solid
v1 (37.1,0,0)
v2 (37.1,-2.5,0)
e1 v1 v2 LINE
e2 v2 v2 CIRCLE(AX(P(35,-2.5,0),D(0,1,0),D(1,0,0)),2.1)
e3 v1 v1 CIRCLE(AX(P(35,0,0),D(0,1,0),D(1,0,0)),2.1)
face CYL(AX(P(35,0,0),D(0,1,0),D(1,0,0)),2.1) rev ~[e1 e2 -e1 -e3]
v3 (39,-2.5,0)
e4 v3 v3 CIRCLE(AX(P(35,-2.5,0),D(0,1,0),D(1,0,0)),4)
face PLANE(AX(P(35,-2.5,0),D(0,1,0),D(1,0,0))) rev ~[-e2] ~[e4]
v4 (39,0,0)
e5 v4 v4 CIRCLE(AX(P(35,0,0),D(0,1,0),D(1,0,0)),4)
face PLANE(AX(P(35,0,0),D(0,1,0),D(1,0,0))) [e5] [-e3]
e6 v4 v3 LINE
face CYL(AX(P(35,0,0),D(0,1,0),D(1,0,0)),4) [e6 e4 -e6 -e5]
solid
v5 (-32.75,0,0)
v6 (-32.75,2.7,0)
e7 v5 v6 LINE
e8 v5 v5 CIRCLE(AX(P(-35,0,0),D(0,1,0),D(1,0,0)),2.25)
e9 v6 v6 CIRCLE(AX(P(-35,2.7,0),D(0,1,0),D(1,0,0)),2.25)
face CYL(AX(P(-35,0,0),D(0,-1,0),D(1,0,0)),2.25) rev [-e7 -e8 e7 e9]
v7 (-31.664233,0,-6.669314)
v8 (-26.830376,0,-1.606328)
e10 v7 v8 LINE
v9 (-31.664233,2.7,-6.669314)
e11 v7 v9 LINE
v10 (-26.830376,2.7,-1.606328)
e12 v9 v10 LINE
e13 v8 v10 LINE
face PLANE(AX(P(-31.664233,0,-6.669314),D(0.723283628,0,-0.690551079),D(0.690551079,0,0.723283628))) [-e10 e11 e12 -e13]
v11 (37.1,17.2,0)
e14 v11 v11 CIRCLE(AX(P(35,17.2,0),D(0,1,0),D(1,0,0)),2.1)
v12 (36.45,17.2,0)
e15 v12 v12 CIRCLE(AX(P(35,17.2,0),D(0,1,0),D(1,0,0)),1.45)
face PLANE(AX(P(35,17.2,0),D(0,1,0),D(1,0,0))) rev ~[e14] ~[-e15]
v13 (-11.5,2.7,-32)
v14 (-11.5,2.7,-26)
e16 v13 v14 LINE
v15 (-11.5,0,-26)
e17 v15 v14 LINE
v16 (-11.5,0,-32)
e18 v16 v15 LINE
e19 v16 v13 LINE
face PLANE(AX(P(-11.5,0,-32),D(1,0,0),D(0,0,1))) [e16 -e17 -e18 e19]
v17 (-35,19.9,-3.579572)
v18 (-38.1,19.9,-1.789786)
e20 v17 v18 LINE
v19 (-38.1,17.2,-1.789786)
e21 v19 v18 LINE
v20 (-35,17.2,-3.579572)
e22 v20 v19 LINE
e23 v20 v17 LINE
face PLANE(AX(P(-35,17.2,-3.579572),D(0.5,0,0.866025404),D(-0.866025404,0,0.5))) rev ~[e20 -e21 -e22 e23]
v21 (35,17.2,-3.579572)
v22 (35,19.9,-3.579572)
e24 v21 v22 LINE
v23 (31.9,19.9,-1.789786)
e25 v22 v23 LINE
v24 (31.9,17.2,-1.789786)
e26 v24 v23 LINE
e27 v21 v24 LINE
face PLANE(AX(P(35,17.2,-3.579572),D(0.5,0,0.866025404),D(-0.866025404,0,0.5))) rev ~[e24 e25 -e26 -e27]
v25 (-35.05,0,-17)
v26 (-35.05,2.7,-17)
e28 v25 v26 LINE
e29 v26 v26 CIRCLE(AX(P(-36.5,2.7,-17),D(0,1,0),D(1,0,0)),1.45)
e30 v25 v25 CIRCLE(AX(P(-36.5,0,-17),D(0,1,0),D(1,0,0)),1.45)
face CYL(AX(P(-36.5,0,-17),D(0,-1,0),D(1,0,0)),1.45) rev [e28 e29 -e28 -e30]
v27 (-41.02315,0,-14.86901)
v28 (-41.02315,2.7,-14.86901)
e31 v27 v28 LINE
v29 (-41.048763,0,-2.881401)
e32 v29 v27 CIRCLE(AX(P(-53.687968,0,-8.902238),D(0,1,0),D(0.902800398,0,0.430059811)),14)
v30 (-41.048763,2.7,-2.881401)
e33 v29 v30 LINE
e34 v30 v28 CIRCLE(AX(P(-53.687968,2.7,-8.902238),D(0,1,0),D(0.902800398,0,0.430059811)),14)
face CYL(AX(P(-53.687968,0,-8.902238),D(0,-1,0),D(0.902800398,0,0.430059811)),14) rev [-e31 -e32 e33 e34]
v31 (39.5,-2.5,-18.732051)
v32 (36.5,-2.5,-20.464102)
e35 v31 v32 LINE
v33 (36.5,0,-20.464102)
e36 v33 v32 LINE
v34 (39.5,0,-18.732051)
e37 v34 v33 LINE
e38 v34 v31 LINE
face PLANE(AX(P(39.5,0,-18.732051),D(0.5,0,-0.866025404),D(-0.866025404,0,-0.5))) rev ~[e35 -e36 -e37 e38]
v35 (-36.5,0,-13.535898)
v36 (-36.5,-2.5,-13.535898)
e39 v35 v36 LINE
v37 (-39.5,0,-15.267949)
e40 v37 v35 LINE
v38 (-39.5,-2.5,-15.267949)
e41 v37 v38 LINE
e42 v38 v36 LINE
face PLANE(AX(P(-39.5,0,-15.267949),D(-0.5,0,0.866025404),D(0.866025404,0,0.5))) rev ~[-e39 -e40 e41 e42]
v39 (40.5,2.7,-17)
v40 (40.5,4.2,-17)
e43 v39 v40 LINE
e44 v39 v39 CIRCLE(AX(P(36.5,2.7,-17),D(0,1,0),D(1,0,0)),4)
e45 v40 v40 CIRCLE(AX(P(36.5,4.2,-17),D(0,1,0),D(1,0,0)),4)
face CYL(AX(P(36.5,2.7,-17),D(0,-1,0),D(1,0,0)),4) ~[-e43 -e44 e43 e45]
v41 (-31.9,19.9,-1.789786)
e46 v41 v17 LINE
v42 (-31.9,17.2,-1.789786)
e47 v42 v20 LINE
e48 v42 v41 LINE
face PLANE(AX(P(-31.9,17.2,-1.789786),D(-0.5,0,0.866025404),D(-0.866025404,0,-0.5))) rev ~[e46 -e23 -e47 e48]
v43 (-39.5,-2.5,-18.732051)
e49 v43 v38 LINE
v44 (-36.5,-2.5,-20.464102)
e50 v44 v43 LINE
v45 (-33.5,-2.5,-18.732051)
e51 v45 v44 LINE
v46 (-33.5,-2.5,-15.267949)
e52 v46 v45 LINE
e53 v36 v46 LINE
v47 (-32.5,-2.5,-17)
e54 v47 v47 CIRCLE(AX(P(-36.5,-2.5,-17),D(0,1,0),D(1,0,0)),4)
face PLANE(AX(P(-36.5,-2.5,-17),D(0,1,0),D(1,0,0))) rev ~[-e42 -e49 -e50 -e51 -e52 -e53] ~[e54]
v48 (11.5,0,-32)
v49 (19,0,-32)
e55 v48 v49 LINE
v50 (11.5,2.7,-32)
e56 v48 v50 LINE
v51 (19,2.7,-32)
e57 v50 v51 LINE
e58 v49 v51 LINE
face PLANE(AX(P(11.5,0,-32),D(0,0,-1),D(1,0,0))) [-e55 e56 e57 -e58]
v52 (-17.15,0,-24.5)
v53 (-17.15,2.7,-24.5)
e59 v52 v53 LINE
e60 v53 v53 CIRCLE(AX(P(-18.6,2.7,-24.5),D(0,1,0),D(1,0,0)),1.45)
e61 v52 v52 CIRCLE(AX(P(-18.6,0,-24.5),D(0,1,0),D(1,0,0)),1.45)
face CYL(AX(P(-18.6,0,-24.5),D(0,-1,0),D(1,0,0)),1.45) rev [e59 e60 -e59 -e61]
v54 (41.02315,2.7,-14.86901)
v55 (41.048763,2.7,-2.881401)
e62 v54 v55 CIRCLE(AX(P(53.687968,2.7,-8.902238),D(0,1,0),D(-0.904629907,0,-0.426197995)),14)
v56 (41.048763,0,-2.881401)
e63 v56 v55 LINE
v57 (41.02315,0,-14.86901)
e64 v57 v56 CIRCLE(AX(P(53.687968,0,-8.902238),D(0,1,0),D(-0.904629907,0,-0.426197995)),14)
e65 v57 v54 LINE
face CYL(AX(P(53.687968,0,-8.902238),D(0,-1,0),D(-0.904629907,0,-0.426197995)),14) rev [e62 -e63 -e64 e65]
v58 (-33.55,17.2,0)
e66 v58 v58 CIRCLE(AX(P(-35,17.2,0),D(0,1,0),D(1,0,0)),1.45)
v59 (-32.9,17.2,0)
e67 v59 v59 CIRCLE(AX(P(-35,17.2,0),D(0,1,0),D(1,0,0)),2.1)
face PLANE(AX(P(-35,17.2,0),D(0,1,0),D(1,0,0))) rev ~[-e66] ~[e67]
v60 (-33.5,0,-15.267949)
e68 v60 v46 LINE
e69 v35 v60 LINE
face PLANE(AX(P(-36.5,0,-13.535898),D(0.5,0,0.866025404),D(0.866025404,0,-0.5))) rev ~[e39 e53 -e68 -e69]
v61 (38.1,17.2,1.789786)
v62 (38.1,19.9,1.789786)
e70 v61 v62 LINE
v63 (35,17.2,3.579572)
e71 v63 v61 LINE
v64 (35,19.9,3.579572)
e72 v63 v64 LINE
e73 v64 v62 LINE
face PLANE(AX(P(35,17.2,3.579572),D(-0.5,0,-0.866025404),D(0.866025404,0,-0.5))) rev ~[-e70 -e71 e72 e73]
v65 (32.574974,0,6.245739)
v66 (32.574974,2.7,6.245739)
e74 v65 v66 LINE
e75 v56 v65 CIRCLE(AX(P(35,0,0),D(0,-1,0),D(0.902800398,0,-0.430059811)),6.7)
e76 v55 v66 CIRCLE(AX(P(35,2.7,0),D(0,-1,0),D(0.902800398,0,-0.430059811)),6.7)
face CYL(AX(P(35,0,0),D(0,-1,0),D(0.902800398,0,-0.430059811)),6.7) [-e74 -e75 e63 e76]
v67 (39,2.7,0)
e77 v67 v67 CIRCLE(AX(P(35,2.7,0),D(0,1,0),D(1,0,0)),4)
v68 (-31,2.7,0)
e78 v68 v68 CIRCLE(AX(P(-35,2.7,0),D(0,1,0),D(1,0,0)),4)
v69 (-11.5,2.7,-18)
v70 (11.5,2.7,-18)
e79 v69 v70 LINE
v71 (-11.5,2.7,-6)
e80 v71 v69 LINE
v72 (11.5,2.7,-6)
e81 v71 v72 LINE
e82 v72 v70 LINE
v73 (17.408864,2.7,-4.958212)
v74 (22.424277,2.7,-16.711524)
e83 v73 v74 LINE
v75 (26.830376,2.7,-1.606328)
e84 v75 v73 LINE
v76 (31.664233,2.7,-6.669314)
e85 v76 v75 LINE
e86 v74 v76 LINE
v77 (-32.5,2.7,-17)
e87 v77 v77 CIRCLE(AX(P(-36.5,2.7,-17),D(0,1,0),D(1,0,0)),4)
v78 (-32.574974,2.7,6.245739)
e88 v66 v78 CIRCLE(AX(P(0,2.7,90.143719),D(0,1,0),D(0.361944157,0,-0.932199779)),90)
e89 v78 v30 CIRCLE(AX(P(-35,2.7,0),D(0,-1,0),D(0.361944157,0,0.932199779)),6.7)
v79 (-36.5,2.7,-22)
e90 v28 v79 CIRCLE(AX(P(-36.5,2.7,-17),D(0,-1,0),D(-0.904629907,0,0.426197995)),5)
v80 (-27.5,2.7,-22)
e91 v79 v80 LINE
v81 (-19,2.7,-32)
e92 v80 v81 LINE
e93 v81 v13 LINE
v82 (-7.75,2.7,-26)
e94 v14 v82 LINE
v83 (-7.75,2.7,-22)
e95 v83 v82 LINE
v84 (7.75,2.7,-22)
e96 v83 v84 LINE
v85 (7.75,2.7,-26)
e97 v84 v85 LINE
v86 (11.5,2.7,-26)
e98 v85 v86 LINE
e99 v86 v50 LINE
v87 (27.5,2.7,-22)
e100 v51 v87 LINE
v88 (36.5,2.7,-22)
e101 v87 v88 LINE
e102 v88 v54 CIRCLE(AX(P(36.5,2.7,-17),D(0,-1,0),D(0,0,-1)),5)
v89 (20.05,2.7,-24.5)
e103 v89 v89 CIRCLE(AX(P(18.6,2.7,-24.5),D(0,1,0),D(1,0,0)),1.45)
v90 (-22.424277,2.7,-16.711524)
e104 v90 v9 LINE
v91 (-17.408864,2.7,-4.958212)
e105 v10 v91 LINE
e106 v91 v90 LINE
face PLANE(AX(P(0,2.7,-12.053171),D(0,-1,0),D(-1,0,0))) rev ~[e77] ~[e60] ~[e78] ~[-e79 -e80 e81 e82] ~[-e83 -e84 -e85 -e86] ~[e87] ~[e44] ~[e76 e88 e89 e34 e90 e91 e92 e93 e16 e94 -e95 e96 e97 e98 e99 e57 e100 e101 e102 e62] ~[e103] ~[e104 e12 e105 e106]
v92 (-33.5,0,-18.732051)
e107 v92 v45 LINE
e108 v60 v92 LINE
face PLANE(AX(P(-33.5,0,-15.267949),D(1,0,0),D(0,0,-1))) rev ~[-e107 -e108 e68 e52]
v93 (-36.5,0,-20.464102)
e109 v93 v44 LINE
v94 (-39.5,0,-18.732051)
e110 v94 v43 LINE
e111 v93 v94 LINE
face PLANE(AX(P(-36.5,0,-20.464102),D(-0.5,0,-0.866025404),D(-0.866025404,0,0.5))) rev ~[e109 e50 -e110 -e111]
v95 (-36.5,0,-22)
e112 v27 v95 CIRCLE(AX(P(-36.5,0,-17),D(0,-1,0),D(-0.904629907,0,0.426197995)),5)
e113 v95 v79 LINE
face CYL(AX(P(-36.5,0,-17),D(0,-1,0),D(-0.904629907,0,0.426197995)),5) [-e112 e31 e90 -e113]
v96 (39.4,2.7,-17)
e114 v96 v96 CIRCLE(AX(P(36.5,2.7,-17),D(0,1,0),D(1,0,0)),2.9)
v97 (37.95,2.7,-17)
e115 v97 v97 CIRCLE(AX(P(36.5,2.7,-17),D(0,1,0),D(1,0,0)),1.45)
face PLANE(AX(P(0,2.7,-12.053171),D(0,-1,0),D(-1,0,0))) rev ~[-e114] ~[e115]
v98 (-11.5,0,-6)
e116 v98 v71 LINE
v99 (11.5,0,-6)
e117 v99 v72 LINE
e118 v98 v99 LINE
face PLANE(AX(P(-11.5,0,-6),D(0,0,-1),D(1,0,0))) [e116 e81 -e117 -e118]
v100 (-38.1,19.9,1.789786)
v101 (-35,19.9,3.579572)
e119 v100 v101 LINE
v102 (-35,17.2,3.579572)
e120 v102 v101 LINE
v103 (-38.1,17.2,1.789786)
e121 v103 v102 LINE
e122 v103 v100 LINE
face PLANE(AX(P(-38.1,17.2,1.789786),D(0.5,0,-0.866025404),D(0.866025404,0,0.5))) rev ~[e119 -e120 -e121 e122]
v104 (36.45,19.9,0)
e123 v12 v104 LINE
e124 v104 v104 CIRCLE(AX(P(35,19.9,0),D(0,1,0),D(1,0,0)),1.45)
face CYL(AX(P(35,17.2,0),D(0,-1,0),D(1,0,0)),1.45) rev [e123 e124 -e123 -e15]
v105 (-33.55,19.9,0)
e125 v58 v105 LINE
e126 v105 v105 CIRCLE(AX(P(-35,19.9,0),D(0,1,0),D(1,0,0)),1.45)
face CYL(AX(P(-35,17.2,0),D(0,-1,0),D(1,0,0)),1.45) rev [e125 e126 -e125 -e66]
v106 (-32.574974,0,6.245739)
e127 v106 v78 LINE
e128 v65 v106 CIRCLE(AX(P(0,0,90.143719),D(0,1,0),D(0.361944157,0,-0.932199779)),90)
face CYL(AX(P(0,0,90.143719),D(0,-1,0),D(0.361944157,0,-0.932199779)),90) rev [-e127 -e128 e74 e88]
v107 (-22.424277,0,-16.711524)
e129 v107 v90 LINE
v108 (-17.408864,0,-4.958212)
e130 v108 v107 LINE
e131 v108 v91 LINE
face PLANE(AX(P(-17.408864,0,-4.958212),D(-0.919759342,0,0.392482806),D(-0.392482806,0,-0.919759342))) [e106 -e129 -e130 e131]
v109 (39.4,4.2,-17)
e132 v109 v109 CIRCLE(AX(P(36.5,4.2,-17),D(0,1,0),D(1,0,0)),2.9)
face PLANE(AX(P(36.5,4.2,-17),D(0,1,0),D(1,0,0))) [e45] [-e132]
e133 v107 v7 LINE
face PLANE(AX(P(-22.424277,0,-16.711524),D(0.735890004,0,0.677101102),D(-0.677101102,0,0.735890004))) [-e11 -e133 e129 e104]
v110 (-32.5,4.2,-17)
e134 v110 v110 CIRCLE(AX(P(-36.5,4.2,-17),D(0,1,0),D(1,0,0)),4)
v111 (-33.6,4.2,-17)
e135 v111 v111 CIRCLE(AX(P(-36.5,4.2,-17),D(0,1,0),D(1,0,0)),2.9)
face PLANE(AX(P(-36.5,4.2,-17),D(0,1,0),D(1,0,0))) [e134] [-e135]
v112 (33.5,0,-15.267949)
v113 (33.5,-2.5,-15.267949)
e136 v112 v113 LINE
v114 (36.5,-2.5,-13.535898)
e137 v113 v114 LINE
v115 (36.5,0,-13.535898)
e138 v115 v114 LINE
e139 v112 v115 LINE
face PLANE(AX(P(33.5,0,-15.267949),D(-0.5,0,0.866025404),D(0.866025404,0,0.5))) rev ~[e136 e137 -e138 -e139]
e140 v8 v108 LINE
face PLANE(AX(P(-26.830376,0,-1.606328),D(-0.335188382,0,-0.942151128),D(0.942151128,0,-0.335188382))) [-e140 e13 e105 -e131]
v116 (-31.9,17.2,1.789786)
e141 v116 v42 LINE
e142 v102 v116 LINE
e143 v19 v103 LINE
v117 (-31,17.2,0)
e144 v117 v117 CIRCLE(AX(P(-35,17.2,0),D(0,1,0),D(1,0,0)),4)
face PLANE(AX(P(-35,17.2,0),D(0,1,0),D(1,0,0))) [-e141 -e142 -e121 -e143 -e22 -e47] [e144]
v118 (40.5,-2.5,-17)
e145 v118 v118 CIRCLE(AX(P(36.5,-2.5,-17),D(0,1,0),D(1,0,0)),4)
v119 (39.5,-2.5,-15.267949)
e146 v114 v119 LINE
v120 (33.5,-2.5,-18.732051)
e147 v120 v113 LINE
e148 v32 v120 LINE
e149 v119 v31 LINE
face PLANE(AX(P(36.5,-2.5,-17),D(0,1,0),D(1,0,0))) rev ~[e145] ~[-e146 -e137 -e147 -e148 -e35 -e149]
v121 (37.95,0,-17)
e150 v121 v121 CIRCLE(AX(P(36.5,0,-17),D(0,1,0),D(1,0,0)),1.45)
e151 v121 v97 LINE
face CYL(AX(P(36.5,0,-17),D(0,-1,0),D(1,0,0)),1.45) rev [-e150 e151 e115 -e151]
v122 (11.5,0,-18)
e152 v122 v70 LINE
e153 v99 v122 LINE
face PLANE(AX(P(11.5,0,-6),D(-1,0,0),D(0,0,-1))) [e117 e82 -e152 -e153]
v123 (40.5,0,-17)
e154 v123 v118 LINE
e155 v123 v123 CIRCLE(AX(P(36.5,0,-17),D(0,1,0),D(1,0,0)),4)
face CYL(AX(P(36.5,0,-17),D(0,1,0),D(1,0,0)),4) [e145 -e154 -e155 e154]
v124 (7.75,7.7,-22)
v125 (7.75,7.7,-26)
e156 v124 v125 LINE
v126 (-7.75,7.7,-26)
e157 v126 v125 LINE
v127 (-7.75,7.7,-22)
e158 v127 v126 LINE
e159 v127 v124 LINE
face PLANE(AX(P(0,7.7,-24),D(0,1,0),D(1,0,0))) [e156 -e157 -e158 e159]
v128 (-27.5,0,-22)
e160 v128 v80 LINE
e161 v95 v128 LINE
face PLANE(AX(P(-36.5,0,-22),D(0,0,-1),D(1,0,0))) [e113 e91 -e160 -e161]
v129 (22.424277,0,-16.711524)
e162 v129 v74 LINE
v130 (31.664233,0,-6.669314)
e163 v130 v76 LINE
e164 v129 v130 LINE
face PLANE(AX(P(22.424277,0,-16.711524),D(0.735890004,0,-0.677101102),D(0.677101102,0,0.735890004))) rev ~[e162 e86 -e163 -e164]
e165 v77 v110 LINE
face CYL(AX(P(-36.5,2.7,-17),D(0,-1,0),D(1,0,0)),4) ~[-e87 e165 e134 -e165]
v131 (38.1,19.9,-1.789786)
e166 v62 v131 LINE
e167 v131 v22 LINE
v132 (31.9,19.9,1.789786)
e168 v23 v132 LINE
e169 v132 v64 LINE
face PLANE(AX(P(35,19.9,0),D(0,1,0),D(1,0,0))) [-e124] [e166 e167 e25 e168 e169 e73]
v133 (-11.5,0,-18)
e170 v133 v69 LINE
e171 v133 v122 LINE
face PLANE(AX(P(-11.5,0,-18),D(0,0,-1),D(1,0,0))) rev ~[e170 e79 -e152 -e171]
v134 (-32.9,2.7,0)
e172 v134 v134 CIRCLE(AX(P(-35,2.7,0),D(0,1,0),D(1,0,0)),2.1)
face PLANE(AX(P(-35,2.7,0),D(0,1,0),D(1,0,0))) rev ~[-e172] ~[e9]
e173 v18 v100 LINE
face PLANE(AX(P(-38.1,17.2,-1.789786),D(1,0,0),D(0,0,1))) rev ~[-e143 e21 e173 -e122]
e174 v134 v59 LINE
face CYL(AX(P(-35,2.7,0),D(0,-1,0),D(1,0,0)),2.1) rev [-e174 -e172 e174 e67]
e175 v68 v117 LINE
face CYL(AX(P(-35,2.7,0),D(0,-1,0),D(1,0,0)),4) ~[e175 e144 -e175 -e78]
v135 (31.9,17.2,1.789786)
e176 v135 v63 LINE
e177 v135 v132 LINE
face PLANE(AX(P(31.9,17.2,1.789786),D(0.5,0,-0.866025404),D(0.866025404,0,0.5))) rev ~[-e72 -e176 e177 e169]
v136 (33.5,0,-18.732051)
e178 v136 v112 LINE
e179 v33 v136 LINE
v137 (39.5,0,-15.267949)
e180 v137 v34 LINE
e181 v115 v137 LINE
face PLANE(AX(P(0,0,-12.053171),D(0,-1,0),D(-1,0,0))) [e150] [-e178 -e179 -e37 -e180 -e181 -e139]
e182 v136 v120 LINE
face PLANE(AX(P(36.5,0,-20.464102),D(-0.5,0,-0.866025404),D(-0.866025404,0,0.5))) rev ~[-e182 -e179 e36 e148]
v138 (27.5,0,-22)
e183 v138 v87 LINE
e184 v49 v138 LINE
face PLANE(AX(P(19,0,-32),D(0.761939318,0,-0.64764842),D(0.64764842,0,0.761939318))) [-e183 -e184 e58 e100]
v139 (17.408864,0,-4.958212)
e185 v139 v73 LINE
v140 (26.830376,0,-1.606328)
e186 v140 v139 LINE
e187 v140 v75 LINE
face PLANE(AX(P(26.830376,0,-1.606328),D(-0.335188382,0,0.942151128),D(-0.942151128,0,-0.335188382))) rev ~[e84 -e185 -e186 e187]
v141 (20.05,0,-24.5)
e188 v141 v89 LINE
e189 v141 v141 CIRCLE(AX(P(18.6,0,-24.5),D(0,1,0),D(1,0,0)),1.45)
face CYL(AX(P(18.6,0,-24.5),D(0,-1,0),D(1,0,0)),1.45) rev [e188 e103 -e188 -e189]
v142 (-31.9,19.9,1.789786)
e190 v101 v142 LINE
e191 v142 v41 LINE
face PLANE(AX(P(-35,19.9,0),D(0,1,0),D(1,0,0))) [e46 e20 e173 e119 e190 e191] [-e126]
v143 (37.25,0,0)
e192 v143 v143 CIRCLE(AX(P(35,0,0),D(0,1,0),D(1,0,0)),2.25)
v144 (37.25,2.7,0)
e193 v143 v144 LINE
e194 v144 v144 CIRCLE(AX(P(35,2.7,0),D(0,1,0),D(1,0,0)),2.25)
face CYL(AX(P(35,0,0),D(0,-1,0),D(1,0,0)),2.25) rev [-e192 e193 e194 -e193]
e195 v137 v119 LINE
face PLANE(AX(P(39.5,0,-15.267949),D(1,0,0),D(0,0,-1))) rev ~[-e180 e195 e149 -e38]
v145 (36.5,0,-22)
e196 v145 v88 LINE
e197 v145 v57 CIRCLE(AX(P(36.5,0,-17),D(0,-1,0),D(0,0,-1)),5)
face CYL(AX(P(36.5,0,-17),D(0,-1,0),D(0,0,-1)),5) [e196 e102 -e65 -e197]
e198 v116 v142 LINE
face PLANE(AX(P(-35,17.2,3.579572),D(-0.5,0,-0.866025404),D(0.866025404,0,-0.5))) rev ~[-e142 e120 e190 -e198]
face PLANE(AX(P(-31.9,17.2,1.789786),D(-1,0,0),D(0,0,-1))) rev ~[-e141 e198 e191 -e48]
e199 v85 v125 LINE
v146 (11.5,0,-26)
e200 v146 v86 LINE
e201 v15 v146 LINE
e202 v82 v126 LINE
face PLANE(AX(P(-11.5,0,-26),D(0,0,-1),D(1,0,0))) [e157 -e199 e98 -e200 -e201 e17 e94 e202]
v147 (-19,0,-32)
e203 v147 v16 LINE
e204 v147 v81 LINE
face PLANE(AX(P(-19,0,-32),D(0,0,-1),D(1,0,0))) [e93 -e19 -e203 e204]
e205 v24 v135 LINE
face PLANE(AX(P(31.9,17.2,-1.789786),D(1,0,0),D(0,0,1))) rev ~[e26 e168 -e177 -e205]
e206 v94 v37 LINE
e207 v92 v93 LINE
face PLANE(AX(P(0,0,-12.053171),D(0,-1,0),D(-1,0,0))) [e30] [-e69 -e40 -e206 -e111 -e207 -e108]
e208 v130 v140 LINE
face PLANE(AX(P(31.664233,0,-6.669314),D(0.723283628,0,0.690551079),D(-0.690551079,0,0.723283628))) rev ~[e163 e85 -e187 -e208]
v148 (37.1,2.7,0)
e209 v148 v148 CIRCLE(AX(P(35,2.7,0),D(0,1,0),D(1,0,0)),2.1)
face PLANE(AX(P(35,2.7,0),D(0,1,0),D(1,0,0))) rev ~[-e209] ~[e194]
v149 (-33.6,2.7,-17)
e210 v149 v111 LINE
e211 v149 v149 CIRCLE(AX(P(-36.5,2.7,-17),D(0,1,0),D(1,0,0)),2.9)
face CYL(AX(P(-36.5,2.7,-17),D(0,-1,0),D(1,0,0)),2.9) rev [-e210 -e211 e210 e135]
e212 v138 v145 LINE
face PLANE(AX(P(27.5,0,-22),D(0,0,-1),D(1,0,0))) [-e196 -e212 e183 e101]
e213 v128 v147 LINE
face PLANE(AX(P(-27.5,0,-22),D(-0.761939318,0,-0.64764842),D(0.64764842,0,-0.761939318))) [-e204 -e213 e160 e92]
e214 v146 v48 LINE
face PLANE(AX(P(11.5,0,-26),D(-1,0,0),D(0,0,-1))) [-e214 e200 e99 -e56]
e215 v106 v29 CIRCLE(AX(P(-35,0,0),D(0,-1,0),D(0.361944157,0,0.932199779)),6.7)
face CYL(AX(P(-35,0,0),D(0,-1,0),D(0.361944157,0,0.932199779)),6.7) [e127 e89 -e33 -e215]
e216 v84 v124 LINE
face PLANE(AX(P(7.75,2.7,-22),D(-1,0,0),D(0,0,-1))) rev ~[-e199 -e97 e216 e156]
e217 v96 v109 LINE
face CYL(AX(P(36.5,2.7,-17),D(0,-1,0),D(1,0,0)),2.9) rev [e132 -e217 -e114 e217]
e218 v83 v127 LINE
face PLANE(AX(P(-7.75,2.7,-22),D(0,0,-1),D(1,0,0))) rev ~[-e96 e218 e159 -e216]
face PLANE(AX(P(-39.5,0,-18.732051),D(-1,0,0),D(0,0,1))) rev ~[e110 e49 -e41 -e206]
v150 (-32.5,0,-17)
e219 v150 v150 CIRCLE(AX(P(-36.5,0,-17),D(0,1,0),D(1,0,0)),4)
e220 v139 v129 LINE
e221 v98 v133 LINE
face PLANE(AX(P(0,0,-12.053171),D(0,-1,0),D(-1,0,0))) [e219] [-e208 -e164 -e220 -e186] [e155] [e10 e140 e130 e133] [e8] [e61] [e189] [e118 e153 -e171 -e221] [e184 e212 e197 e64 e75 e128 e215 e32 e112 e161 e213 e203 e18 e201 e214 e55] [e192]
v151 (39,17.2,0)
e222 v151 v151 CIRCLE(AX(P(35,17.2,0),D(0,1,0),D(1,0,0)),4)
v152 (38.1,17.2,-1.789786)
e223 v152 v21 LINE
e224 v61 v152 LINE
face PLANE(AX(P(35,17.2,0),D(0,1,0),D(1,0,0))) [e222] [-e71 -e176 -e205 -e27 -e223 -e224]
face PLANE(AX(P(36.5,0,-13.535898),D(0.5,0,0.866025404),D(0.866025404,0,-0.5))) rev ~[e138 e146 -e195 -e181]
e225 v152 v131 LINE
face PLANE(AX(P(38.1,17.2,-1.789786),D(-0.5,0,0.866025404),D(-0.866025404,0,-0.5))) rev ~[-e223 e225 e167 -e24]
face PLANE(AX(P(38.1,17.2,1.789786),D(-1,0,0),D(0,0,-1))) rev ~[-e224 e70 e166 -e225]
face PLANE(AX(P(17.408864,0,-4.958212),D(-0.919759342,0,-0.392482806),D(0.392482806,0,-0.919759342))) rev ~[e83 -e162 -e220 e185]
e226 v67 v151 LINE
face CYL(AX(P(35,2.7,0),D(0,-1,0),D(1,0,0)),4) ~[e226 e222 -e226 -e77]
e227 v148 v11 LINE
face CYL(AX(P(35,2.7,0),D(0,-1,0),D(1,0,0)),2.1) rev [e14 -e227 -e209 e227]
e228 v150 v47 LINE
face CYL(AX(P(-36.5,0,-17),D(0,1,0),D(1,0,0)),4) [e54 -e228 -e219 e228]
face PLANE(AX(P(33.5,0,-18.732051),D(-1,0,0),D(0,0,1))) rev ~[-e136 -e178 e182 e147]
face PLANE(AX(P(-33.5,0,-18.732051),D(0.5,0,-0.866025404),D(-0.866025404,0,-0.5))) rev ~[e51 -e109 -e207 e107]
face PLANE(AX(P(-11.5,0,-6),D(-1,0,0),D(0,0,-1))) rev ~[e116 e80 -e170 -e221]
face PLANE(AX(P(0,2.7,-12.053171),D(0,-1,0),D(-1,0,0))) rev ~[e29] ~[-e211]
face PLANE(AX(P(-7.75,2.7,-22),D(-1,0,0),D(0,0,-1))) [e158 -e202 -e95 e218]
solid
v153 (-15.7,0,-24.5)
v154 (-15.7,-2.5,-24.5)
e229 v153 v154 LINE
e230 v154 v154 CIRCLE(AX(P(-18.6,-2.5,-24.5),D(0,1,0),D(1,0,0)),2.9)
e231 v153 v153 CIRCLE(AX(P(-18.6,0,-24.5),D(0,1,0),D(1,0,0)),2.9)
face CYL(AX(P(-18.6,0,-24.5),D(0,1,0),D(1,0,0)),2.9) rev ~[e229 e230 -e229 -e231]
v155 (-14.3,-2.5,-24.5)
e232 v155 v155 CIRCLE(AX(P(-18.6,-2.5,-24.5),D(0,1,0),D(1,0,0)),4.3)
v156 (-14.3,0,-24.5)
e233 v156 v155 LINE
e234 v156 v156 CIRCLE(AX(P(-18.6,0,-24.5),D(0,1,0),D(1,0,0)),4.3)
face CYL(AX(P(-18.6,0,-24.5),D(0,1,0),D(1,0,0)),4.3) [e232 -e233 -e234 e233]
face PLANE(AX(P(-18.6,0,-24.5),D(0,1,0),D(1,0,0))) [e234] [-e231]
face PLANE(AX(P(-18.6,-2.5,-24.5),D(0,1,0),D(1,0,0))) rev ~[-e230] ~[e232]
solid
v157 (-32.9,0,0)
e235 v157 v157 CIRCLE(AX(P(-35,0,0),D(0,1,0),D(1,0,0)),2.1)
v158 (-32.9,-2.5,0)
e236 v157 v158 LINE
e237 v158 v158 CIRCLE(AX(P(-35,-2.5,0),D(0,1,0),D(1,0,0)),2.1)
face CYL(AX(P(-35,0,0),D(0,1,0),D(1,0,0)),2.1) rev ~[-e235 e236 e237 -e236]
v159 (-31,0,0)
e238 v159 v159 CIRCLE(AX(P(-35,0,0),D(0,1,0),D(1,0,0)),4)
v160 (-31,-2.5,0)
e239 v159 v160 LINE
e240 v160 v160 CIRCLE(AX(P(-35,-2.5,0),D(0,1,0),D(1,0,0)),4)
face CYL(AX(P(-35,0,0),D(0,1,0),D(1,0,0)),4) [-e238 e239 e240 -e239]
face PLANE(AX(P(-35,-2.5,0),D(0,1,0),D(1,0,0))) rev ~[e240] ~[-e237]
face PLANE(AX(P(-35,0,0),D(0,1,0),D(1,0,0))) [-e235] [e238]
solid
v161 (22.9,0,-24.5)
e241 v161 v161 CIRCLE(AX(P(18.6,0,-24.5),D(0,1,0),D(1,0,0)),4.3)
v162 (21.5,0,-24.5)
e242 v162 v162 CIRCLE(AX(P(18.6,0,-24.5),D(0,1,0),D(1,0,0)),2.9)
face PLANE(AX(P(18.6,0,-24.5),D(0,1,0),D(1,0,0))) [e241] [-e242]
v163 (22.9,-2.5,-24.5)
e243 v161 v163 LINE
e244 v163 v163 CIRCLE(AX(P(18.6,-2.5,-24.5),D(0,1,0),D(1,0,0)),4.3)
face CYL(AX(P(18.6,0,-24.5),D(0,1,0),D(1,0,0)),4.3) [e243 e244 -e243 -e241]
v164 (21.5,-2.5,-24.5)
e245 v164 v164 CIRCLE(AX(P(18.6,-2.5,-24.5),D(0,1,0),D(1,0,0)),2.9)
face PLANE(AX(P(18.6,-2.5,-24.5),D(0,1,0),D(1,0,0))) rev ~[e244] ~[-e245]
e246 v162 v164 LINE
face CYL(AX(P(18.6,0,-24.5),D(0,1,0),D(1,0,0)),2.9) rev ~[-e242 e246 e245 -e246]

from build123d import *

# Parameters (mm, degrees)
SKETCH1_R             = 4
SKETCH1_R_2           = 2.1
BOSS_EXTRUDE1_DEPTH   = 2.5
BOSS_EXTRUDE1_2_DEPTH = 2.5
BOSS_EXTRUDE1_3_DEPTH = 2.5
BOSS_EXTRUDE1_4_DEPTH = 2.5
SKETCH1_R_3           = 4.3
SKETCH1_R_4           = 2.9
BOSS_EXTRUDE1_5_DEPTH = 2.5
BOSS_EXTRUDE1_6_DEPTH = 2.5
SKETCH2_R             = 1.45
SKETCH2_R_2           = 2.25
SKETCH2_W             = 23
SKETCH2_H             = 12
BOSS_EXTRUDE2_DEPTH   = 2.7
SKETCH3_W             = 15.5
SKETCH3_H             = 4
BOSS_EXTRUDE3_DEPTH   = 5
SKETCH4_R             = 4
SKETCH4_R_2           = 2.9
BOSS_EXTRUDE4_DEPTH   = 1.5
SKETCH5_R             = 4
SKETCH5_R_2           = 2.1
BOSS_EXTRUDE5_DEPTH   = 14.5
SKETCH6_R             = 1.45
BOSS_EXTRUDE6_DEPTH   = 2.7


with BuildPart() as part:
    # Sketch1 → Boss-Extrude1 (new body)
    with BuildSketch(Plane(origin=(0, 0, 0), x_dir=(1, 0, 0), z_dir=(0, 1, 0))):
        with Locations((-35, 0)):
            Circle(SKETCH1_R)
        with Locations((-35, 0)):
            Circle(SKETCH1_R_2, mode=Mode.SUBTRACT)
    extrude(amount=-BOSS_EXTRUDE1_DEPTH)


with BuildPart() as body_2:
    # Sketch1 → Boss-Extrude1 2 (new body)
    with BuildSketch(Plane(origin=(0, 0, 0), x_dir=(1, 0, 0), z_dir=(0, 1, 0))):
        with Locations((35, 0)):
            Circle(SKETCH1_R)
        with Locations((35, 0)):
            Circle(SKETCH1_R_2, mode=Mode.SUBTRACT)
    extrude(amount=-BOSS_EXTRUDE1_2_DEPTH)


with BuildPart() as body_3:
    # Sketch1 → Boss-Extrude1 3 (new body)
    with BuildSketch(Plane(origin=(0, 0, 0), x_dir=(1, 0, 0), z_dir=(0, 1, 0))):
        with Locations((-36.5, 17)):
            Circle(SKETCH1_R)
        Polygon((-39.5, 15.267949192), (-36.5, 13.535898385), (-33.5, 15.267949192), (-33.5, 18.732050808), (-36.5, 20.464101615), (-39.5, 18.732050808), align=None, mode=Mode.SUBTRACT)
    extrude(amount=-BOSS_EXTRUDE1_3_DEPTH)



with BuildPart() as body_4:
    # Sketch1 → Boss-Extrude1 4 (new body)
    with BuildSketch(Plane(origin=(0, 0, 0), x_dir=(1, 0, 0), z_dir=(0, 1, 0))):
        with Locations((36.5, 17)):
            Circle(SKETCH1_R)
        Polygon((36.5, 20.464101615), (33.5, 18.732050808), (33.5, 15.267949192), (36.5, 13.535898385), (39.5, 15.267949192), (39.5, 18.732050808), align=None, mode=Mode.SUBTRACT)
    extrude(amount=-BOSS_EXTRUDE1_4_DEPTH)


with BuildPart() as body_5:
    # Sketch1 → Boss-Extrude1 5 (new body)
    with BuildSketch(Plane(origin=(0, 0, 0), x_dir=(1, 0, 0), z_dir=(0, 1, 0))):
        with Locations((-18.6, 24.5)):
            Circle(SKETCH1_R_3)
        with Locations((-18.6, 24.5)):
            Circle(SKETCH1_R_4, mode=Mode.SUBTRACT)
    extrude(amount=-BOSS_EXTRUDE1_5_DEPTH)


with BuildPart() as body_6:
    # Sketch1 → Boss-Extrude1 6 (new body)
    with BuildSketch(Plane(origin=(0, 0, 0), x_dir=(1, 0, 0), z_dir=(0, 1, 0))):
        with Locations((18.6, 24.5)):
            Circle(SKETCH1_R_3)
        with Locations((18.6, 24.5)):
            Circle(SKETCH1_R_4, mode=Mode.SUBTRACT)
    extrude(amount=-BOSS_EXTRUDE1_6_DEPTH)


with BuildPart() as body_3_1:
    add(body_3.part)

    add(body_4.part)  # Boss-Extrude2 merges body 4
    # Sketch2 → Boss-Extrude2 (add)
    with BuildSketch(Plane(origin=(0, 0, 0), x_dir=(1, 0, 0), z_dir=(0, 1, 0))):
        with BuildLine():
            Line((-36.5, 22), (-27.5, 22))
            Line((-27.5, 22), (-19, 32))
            Line((-19, 32), (-11.5, 32))
            Line((-11.5, 32), (-11.5, 26))
            Line((-11.5, 26), (11.5, 26))
            Line((11.5, 26), (11.5, 32))
            Line((11.5, 32), (19, 32))
            Line((19, 32), (27.5, 22))
            Line((27.5, 22), (36.5, 22))
            ThreePointArc((36.5, 22), (40.722259459, 19.678157027), (41.023149536, 14.869010025))
            ThreePointArc((41.023149536, 14.869010025), (39.688000194, 8.872325293), (41.048762666, 2.881400737))
            ThreePointArc((41.048762666, 2.881400737), (39.910095198, -4.558614388), (32.574974147, -6.245738516))
            ThreePointArc((32.574974147, -6.245738516), (0, -0.143718583), (-32.574974147, -6.245738516))
            ThreePointArc((-32.574974147, -6.245738516), (-39.910095198, -4.558614388), (-41.048762666, 2.881400737))
            ThreePointArc((-41.048762666, 2.881400737), (-39.688000194, 8.872325293), (-41.023149536, 14.869010025))
            ThreePointArc((-41.023149536, 14.869010025), (-40.722259459, 19.678157027), (-36.5, 22))
        make_face()
        with Locations((-36.5, 17)):
            Circle(SKETCH2_R, mode=Mode.SUBTRACT)
        with Locations((-35, 0)):
            Circle(SKETCH2_R_2, mode=Mode.SUBTRACT)
        with Locations((35, 0)):
            Circle(SKETCH2_R_2, mode=Mode.SUBTRACT)
        with Locations((36.5, 17)):
            Circle(SKETCH2_R, mode=Mode.SUBTRACT)
        with Locations((18.6, 24.5)):
            Circle(SKETCH2_R, mode=Mode.SUBTRACT)
        with Locations((-18.6, 24.5)):
            Circle(SKETCH2_R, mode=Mode.SUBTRACT)
        Polygon((-17.408864349, 4.958212065), (-22.424277018, 16.711523526), (-31.664233186, 6.669313642), (-26.830375632, 1.606328243), align=None, mode=Mode.SUBTRACT)
        with Locations((0, 12)):
            Rectangle(SKETCH2_W, SKETCH2_H, mode=Mode.SUBTRACT)
        Polygon((31.664233186, 6.669313642), (26.830375632, 1.606328243), (17.408864349, 4.958212065), (22.424277018, 16.711523526), align=None, mode=Mode.SUBTRACT)
    extrude(amount=BOSS_EXTRUDE2_DEPTH)

    # Sketch3 → Boss-Extrude3 (add)
    with BuildSketch(Plane(origin=(0, 2.7, 0), x_dir=(1, 0, 0), z_dir=(0, 1, 0))):
        with Locations((0, 24)):
            Rectangle(SKETCH3_W, SKETCH3_H)
    extrude(amount=BOSS_EXTRUDE3_DEPTH)

    # Sketch4 → Boss-Extrude4 (add)
    with BuildSketch(Plane(origin=(0, 2.7, 0), x_dir=(1, 0, 0), z_dir=(0, 1, 0))):
        with Locations((-36.5, 17)):
            Circle(SKETCH4_R)
        with Locations((-36.5, 17)):
            Circle(SKETCH4_R_2, mode=Mode.SUBTRACT)
        with Locations((36.5, 17)):
            Circle(SKETCH4_R)
        with Locations((36.5, 17)):
            Circle(SKETCH4_R_2, mode=Mode.SUBTRACT)
    extrude(amount=BOSS_EXTRUDE4_DEPTH)

    # Sketch5 → Boss-Extrude5 (add)
    with BuildSketch(Plane(origin=(0, 2.7, 0), x_dir=(1, 0, 0), z_dir=(0, 1, 0))):
        with Locations((-35, 0)):
            Circle(SKETCH5_R)
        with Locations((-35, 0)):
            Circle(SKETCH5_R_2, mode=Mode.SUBTRACT)
        with Locations((35, 0)):
            Circle(SKETCH5_R)
        with Locations((35, 0)):
            Circle(SKETCH5_R_2, mode=Mode.SUBTRACT)
    extrude(amount=BOSS_EXTRUDE5_DEPTH)

    # Sketch6 → Boss-Extrude6 (add)
    with BuildSketch(Plane(origin=(0, 17.2, 0), x_dir=(1, 0, 0), z_dir=(0, 1, 0))):
        Polygon((-35, 3.579571669), (-38.1, 1.789785834), (-38.1, -1.789785834), (-35, -3.579571669), (-31.9, -1.789785834), (-31.9, 1.789785834), align=None)
        with Locations((-35, 0)):
            Circle(SKETCH6_R, mode=Mode.SUBTRACT)
        Polygon((31.9, 1.789785834), (31.9, -1.789785834), (35, -3.579571669), (38.1, -1.789785834), (38.1, 1.789785834), (35, 3.579571669), align=None)
        with Locations((35, 0)):
            Circle(SKETCH6_R, mode=Mode.SUBTRACT)
    extrude(amount=BOSS_EXTRUDE6_DEPTH)


solid = Compound([part.part, body_2.part, body_5.part, body_6.part, body_3_1.part])
